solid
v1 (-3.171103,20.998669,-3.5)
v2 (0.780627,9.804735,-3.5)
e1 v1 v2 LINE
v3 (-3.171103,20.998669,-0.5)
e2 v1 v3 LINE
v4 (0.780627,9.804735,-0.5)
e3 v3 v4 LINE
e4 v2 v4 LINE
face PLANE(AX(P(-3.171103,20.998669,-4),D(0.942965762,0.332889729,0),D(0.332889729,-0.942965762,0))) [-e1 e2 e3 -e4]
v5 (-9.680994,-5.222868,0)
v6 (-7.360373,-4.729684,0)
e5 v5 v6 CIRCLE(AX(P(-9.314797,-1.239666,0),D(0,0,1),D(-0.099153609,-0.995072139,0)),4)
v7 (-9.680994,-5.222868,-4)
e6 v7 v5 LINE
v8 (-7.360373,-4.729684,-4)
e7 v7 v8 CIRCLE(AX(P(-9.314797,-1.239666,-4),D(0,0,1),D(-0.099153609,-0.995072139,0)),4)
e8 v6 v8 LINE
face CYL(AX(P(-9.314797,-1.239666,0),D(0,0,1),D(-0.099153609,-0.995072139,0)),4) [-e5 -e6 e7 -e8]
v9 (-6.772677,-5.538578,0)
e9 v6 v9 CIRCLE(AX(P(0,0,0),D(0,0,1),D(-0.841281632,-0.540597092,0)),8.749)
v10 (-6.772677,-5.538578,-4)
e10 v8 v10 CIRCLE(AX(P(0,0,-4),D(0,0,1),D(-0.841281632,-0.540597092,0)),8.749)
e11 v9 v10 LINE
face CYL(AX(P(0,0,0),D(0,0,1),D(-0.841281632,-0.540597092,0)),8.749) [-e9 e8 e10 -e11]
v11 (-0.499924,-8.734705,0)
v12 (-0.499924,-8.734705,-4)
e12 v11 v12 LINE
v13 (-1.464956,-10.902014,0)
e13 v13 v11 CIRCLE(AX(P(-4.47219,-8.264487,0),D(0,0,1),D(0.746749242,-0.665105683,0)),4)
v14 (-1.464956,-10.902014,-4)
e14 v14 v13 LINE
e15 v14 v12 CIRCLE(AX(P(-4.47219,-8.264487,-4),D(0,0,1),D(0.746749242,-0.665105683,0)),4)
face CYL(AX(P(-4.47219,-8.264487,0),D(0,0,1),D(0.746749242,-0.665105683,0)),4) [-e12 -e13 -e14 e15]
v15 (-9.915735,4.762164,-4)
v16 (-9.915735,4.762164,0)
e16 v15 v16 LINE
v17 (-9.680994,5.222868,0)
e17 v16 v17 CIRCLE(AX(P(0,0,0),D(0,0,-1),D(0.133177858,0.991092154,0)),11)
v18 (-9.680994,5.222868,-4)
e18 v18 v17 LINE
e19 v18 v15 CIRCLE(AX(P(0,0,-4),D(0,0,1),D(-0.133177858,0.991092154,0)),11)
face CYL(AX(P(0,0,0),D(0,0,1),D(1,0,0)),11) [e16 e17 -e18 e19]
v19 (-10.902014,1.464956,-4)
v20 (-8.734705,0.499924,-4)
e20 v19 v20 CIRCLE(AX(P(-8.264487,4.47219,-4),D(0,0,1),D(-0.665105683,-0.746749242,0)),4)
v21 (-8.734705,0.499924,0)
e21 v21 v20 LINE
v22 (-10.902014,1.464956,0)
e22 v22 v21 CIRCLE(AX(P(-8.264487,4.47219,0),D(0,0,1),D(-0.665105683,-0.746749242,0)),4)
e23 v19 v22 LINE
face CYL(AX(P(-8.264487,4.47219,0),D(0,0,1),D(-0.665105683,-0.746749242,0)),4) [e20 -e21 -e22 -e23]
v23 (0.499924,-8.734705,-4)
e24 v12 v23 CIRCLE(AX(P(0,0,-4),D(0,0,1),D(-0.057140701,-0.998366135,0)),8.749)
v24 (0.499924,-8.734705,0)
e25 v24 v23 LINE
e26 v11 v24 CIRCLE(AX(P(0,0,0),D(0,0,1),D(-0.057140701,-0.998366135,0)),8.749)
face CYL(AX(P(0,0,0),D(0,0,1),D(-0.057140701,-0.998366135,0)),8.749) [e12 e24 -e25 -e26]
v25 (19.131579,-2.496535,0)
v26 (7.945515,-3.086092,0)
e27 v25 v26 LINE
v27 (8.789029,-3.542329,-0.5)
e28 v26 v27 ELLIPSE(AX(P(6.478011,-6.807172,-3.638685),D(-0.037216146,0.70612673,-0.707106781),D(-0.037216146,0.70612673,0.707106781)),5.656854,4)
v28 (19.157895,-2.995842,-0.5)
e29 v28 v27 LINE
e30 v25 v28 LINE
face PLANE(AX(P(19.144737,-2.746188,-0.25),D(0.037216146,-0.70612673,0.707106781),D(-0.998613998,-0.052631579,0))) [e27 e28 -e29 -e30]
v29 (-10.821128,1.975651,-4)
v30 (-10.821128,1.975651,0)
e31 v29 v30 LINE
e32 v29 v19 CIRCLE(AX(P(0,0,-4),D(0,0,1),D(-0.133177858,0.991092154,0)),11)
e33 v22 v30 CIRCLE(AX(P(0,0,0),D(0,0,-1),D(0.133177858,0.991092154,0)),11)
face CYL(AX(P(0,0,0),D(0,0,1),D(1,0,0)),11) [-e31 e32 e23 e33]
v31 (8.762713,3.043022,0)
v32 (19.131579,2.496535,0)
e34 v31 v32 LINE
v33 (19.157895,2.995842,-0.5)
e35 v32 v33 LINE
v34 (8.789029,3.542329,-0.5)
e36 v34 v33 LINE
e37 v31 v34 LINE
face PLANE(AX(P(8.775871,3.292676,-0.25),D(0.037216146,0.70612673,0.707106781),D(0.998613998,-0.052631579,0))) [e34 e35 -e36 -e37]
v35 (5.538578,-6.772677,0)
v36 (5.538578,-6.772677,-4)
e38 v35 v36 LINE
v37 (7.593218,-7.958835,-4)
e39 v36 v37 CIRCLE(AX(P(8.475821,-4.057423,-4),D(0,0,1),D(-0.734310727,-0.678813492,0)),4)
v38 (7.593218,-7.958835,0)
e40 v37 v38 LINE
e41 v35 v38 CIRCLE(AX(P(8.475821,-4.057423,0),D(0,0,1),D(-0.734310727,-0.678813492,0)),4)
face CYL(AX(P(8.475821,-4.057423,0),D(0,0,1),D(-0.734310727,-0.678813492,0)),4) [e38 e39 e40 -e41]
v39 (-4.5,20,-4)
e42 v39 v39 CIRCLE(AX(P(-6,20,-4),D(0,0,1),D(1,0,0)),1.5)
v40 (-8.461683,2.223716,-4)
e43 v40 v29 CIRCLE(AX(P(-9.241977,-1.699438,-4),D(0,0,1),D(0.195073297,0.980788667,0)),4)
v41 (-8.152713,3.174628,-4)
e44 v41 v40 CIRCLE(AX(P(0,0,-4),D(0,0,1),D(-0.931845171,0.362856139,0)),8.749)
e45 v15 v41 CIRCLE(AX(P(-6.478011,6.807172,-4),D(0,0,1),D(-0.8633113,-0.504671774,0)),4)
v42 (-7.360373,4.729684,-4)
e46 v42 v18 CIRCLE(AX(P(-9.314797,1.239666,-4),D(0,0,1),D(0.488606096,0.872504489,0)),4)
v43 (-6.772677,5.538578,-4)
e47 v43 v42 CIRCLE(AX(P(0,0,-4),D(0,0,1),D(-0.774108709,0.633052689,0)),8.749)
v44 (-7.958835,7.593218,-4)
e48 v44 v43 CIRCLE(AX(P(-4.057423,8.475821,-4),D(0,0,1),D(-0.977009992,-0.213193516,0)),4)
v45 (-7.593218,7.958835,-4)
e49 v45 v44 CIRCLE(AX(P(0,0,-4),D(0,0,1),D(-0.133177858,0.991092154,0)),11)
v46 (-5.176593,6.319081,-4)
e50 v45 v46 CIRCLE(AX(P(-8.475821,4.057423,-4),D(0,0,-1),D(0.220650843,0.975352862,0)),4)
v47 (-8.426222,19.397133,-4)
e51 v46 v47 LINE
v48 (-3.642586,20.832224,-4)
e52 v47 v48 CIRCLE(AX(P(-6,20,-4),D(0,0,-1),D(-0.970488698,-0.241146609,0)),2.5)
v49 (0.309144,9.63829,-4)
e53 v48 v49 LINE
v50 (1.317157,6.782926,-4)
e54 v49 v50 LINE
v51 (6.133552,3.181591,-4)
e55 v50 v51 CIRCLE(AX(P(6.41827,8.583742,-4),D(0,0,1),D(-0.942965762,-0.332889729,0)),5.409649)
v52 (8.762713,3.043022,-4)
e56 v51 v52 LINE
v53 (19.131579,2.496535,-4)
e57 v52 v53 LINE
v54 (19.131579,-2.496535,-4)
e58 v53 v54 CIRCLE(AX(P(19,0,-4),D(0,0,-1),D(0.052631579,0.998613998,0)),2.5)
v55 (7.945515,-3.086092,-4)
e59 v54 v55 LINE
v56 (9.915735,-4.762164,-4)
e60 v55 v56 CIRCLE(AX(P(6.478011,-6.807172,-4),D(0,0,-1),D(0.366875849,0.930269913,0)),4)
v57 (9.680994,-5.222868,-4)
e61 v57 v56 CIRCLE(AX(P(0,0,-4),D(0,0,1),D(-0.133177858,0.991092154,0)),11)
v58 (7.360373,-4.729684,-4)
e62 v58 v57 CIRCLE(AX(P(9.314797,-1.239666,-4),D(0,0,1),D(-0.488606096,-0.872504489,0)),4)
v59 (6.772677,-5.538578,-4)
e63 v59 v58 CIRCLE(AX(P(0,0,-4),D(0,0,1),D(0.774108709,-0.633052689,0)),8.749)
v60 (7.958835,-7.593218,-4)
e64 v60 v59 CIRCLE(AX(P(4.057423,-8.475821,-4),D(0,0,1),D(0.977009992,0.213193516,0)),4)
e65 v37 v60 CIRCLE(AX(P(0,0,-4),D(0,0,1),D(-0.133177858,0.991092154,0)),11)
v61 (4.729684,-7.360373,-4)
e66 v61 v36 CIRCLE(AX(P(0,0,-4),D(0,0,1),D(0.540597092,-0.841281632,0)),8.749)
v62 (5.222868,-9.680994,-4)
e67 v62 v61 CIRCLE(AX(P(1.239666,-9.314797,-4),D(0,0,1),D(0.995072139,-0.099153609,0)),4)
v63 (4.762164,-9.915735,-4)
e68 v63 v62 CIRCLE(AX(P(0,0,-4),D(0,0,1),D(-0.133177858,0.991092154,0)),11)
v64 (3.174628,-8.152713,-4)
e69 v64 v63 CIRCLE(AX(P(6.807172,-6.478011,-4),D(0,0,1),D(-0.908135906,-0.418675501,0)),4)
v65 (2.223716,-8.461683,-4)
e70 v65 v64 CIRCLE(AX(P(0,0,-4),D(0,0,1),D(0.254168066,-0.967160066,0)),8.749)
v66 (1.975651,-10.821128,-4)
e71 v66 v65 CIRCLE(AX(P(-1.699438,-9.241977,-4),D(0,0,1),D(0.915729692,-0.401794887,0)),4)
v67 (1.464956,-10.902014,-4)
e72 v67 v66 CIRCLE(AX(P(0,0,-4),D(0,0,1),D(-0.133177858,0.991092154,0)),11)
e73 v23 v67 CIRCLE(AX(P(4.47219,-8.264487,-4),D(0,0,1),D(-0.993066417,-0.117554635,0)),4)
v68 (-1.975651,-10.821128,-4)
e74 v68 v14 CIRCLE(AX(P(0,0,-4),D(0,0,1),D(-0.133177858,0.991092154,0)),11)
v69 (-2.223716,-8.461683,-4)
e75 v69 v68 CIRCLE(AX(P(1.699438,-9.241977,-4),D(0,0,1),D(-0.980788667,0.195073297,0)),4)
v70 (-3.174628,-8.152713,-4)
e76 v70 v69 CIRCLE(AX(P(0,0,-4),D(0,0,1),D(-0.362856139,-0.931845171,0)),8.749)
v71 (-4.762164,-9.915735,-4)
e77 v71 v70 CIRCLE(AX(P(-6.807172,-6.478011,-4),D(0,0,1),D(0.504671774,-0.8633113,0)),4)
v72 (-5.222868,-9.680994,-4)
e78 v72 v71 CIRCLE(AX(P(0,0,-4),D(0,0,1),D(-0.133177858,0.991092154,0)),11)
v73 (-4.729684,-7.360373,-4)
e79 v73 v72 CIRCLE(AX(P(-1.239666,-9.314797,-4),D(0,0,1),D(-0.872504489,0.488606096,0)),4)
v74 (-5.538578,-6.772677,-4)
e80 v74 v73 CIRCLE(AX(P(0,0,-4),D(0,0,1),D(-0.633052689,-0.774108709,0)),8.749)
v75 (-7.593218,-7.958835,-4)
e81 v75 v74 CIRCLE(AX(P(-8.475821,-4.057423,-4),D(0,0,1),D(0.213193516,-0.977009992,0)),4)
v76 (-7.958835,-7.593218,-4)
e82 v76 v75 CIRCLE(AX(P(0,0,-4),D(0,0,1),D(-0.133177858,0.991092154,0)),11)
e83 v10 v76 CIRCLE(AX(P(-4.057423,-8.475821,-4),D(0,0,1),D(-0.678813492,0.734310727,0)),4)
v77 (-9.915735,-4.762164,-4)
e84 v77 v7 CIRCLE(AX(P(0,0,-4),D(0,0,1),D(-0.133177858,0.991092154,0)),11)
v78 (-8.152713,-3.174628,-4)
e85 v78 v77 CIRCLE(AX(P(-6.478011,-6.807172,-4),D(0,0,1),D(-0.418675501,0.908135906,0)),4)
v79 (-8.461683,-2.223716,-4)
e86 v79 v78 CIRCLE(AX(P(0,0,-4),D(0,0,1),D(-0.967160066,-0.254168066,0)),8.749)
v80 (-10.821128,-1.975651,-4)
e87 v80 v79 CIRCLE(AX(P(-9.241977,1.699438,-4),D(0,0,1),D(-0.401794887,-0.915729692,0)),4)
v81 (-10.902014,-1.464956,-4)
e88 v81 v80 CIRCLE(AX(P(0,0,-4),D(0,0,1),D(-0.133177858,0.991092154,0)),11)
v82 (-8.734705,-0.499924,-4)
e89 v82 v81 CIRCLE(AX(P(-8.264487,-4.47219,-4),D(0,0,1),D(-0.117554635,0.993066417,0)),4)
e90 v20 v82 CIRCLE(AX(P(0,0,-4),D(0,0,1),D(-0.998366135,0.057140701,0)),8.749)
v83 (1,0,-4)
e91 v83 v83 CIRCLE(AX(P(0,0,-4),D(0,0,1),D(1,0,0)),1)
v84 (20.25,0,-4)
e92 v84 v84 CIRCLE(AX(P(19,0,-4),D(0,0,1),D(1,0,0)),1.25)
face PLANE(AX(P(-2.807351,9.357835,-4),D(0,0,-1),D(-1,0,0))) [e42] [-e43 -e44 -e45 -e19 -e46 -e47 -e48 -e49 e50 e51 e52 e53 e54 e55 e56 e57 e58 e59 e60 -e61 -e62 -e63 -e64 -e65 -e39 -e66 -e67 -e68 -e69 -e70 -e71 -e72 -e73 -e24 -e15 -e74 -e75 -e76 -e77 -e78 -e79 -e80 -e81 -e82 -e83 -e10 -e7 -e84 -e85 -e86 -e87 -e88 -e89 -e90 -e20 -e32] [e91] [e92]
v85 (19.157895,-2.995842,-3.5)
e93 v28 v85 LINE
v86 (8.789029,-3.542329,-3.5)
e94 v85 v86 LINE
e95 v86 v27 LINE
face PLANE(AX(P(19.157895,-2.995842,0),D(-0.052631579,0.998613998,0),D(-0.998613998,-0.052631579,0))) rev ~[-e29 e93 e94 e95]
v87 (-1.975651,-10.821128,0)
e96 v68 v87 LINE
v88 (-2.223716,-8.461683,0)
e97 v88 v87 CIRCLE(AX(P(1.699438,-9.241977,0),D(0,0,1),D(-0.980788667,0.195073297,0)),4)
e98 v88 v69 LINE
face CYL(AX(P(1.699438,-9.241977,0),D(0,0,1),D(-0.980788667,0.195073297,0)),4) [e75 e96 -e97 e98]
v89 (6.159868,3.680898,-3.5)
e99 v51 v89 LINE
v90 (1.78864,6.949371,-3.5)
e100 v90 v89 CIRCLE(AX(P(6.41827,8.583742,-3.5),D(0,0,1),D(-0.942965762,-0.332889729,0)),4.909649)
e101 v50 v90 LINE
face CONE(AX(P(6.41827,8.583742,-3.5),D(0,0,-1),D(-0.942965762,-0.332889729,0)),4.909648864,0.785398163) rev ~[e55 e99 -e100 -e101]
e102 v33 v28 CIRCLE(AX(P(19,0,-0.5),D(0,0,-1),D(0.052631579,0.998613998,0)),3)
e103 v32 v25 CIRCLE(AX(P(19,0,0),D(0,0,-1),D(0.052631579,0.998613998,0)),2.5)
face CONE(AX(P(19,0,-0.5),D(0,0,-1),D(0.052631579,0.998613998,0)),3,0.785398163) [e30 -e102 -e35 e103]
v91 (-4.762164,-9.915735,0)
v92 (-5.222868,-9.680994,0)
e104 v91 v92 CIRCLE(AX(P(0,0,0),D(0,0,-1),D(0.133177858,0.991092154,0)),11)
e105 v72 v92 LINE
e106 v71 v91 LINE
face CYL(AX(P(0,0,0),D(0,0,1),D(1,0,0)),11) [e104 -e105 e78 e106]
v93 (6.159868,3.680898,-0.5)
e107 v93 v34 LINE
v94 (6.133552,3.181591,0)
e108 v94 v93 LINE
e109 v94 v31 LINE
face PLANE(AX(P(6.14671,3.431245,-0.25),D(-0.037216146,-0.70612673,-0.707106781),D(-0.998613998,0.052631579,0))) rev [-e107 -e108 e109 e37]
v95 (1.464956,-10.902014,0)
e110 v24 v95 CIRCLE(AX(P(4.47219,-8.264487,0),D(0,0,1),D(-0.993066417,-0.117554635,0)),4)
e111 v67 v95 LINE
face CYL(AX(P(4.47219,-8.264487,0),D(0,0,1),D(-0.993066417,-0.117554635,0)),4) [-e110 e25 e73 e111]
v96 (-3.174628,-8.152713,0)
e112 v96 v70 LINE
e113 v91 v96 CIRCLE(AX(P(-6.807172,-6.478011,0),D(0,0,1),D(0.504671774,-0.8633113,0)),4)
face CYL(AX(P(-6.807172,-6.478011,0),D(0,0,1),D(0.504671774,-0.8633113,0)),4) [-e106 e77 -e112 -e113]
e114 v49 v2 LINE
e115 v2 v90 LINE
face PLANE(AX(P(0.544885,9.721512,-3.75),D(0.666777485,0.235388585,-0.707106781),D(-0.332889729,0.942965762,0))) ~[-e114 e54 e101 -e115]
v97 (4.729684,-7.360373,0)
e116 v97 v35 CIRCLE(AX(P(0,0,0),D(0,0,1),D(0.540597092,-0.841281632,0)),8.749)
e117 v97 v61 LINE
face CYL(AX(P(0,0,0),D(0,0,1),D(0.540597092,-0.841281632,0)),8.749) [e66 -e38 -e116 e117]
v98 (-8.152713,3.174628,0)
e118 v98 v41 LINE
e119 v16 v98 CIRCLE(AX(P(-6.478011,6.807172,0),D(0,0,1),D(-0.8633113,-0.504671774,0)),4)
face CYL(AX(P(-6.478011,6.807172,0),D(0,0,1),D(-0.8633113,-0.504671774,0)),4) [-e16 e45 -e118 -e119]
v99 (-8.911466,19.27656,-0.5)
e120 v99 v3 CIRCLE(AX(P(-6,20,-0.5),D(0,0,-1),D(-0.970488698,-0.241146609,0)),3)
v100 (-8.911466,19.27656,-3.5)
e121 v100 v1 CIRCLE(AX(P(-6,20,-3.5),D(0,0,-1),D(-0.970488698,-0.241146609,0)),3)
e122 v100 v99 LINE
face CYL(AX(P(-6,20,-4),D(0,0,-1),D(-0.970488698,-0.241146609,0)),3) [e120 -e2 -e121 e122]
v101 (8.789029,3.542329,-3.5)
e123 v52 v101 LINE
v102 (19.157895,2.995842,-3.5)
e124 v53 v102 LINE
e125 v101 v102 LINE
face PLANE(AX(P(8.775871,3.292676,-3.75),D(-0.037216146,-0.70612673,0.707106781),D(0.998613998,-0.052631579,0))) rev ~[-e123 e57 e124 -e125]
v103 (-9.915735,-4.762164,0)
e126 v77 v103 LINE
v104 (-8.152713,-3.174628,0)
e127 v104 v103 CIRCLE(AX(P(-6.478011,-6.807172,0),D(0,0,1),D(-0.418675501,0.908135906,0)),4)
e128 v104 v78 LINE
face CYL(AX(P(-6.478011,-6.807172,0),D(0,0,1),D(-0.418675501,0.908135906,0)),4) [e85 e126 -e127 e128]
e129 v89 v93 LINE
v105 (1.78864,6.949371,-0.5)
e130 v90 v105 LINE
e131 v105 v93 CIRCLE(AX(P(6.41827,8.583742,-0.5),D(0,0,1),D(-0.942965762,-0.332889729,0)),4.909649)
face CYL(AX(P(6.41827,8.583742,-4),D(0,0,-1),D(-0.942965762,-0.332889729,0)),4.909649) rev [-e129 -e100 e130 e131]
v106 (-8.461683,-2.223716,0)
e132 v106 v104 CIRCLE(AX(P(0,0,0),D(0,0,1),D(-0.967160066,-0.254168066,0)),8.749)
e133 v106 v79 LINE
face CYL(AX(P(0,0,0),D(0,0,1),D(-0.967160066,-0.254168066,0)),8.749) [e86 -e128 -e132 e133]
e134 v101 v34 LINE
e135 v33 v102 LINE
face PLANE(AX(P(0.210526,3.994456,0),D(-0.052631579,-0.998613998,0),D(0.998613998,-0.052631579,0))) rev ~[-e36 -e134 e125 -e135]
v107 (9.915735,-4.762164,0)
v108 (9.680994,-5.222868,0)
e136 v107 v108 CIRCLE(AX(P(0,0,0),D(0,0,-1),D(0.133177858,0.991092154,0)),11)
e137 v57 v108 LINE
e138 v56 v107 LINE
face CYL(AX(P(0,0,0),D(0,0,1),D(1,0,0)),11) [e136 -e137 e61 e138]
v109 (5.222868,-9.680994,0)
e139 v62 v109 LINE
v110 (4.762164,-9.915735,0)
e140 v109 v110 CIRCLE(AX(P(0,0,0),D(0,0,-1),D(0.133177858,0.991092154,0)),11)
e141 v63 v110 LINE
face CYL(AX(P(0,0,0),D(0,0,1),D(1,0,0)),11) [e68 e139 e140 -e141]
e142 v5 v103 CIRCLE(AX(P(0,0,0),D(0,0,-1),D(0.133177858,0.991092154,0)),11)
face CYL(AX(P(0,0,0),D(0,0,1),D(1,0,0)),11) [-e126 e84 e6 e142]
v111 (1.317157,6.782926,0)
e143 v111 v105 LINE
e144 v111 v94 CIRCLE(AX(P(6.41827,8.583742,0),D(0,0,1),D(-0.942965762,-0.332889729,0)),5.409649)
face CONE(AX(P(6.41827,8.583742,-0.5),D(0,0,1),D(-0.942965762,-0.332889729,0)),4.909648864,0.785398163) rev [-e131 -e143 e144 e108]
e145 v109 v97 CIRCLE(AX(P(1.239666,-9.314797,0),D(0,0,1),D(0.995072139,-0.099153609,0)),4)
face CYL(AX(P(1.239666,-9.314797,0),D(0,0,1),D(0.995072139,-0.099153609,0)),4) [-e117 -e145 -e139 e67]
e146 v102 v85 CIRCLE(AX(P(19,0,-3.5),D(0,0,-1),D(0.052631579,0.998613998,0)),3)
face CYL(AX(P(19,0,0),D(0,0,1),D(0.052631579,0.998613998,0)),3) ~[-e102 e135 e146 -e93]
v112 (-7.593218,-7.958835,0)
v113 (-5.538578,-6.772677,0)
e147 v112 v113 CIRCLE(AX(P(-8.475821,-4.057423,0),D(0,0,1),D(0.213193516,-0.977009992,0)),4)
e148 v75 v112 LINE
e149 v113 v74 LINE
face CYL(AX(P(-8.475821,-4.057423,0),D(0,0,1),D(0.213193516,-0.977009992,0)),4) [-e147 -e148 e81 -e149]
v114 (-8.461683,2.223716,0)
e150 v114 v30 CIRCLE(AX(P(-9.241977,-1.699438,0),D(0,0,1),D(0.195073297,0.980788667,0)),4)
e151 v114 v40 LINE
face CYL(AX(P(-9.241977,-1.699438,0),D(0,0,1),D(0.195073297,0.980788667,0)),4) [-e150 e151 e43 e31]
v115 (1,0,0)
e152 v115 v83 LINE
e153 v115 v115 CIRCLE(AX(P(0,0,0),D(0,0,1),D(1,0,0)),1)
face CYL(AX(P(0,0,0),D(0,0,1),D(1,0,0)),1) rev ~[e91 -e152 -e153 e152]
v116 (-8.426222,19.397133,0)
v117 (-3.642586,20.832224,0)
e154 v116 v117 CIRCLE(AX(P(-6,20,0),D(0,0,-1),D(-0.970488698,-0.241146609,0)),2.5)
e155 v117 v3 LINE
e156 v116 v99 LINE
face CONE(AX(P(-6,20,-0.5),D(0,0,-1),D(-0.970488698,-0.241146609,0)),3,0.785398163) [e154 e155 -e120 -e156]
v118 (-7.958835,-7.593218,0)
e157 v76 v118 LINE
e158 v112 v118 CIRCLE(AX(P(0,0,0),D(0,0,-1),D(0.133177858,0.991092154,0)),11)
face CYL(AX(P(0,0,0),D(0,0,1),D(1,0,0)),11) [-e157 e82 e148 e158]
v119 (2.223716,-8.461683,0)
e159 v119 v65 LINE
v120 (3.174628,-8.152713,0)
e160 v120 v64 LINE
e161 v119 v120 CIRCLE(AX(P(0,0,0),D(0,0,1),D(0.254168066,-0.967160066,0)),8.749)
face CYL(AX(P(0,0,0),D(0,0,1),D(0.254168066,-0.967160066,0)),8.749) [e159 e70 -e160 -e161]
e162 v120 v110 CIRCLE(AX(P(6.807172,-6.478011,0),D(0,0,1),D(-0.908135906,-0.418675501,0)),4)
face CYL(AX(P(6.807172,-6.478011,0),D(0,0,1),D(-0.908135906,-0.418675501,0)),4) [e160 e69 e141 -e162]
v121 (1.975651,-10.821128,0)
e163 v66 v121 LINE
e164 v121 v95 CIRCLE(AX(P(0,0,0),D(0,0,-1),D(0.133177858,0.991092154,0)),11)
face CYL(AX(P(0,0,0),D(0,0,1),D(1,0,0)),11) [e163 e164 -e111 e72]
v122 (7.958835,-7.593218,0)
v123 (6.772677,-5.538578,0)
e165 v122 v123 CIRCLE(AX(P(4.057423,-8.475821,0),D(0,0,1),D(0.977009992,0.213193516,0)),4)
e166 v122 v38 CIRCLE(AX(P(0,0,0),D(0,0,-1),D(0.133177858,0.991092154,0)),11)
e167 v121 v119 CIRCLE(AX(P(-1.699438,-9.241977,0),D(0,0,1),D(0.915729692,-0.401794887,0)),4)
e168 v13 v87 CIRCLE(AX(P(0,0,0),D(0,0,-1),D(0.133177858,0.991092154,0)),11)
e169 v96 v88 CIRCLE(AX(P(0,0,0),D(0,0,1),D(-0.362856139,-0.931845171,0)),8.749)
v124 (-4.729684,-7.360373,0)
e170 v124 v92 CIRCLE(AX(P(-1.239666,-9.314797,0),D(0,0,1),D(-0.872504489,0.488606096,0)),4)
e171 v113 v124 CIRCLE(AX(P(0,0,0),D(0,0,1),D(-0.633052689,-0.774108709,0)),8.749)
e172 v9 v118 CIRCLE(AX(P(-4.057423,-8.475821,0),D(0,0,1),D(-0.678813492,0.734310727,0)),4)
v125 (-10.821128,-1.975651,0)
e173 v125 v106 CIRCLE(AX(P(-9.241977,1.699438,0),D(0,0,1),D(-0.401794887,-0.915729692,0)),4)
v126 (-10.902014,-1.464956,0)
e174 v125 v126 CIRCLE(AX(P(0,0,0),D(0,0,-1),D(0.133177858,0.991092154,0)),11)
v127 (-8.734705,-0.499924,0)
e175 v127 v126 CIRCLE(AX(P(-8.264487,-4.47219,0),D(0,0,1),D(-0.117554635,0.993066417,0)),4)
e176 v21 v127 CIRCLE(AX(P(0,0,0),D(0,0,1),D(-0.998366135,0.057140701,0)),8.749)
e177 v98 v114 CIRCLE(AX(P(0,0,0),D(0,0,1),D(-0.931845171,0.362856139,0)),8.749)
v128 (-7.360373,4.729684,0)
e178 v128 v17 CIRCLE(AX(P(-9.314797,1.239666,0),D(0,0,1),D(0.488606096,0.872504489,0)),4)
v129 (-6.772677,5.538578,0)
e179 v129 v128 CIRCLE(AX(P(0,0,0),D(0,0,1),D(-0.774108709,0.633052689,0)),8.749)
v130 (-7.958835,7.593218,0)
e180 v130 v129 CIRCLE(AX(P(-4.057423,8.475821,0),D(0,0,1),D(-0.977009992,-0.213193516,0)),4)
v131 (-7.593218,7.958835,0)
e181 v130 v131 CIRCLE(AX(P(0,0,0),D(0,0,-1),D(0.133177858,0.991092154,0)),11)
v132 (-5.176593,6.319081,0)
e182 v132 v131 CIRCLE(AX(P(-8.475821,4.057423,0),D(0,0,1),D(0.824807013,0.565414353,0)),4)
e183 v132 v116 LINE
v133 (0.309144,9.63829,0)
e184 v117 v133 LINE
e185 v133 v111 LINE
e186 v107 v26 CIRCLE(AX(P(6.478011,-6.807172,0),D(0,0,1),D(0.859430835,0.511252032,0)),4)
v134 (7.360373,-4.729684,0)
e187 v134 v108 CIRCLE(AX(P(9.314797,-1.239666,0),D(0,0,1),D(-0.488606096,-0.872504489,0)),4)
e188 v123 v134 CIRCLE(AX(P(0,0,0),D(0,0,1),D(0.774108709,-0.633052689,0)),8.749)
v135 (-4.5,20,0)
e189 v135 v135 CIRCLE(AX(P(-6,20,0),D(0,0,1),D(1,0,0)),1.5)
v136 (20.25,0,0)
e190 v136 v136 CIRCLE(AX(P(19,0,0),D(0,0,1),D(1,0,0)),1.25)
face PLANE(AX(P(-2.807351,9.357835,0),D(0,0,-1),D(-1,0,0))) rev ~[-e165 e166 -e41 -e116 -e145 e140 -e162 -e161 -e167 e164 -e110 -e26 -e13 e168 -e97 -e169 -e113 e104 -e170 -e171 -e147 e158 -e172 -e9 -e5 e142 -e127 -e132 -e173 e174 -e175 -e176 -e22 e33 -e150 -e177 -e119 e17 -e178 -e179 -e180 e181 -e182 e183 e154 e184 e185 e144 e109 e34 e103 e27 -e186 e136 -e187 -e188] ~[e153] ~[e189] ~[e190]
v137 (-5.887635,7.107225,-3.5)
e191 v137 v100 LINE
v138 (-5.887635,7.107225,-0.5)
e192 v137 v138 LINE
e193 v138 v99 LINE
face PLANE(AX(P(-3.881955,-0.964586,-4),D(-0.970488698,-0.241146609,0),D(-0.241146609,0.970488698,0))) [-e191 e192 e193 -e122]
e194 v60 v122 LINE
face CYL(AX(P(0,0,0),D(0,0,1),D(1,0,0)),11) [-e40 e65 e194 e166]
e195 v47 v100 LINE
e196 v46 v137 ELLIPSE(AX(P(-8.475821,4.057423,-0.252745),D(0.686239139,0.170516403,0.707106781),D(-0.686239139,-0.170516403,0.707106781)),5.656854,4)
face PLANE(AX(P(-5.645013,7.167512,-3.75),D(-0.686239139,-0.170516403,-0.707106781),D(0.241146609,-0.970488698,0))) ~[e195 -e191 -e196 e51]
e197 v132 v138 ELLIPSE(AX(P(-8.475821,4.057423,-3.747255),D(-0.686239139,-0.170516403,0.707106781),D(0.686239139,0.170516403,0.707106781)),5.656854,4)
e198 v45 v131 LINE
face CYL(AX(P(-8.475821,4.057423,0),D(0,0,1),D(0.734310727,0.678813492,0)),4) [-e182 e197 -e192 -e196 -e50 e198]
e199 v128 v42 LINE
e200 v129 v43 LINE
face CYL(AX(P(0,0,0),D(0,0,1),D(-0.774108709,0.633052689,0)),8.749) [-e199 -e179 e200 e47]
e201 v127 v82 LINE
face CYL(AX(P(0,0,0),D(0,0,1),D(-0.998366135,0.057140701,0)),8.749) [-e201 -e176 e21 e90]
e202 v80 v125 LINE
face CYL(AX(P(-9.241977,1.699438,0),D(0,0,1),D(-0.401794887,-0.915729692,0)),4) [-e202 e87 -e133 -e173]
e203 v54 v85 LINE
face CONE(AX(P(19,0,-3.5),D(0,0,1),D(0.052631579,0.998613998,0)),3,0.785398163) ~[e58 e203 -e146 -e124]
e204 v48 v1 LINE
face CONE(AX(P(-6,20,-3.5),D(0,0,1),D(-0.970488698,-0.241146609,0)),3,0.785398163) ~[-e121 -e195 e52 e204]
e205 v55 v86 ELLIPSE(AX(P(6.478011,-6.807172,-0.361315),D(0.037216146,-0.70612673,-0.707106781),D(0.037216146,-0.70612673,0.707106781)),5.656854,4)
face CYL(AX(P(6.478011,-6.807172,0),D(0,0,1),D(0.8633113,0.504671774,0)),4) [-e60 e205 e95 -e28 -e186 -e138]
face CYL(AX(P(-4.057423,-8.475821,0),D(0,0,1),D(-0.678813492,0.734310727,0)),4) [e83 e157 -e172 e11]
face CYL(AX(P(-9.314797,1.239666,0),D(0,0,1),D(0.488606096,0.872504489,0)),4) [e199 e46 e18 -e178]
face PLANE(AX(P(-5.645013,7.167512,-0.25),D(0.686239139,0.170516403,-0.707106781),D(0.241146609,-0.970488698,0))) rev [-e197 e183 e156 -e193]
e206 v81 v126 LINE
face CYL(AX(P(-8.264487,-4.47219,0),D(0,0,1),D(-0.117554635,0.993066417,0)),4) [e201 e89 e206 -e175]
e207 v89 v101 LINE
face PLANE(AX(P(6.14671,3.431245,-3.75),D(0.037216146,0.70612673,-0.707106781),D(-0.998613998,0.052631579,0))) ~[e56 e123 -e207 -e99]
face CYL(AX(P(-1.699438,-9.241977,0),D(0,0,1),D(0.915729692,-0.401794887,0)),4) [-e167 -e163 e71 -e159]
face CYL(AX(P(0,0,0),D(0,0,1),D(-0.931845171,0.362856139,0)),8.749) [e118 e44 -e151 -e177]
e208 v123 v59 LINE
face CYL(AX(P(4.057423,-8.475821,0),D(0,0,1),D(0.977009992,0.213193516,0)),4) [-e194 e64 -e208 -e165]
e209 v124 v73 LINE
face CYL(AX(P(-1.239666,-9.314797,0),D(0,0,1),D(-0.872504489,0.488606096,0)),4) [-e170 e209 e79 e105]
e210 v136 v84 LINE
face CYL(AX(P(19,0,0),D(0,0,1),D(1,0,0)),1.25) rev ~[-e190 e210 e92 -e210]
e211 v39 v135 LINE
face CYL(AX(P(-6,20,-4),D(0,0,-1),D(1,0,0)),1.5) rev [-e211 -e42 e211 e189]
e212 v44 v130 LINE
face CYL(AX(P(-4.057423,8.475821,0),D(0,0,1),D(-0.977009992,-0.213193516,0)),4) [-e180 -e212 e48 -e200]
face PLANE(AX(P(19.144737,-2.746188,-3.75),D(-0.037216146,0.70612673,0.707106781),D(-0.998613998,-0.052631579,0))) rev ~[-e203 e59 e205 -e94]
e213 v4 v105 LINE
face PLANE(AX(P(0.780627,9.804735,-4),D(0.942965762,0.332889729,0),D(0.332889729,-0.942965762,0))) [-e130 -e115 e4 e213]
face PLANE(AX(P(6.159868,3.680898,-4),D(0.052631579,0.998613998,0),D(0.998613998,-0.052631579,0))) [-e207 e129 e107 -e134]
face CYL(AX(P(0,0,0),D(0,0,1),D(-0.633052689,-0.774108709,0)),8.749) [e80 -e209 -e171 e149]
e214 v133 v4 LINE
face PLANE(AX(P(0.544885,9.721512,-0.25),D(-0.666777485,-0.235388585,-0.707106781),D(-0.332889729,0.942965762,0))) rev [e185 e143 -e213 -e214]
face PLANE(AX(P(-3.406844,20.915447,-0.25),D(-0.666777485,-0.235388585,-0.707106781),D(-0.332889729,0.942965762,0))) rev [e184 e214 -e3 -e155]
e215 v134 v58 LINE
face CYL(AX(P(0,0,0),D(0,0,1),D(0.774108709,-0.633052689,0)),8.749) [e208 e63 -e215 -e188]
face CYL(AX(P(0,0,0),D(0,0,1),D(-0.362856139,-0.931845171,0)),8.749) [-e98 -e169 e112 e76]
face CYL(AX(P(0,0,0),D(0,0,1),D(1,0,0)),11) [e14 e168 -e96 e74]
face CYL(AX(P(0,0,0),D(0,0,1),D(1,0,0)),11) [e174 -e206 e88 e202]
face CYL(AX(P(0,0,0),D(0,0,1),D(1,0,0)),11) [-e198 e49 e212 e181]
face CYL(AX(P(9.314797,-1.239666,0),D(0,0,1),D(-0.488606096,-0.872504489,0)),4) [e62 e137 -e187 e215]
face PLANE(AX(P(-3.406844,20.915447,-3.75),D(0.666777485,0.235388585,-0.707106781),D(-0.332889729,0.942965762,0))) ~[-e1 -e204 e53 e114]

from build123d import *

# Parameters (mm, degrees)
CROQUIS7_R              = 11
CROQUIS7_R_2            = 1
SALIENTE_EXTRUIR4_DEPTH = 4
CORTAR_EXTRUIR3_DEPTH   = 17.062378404
MATRIZC3_COUNT          = 20
CROQUIS9_R              = 1
CROQUIS9_R_2            = 1.25
SALIENTE_EXTRUIR5_DEPTH = 4
CROQUIS2_R              = 1
CROQUIS2_R_2            = 1.5
SALIENTE_EXTRUIR2_DEPTH = 4
CORTAR_EXTRUIR4_DEPTH   = 33.078029865
CHAFL_N1_SIZE           = 0.5


with BuildPart() as part:
    # Croquis7 → Saliente-Extruir4 (new body)
    with BuildSketch(Plane.XY):
        Circle(CROQUIS7_R)
        Circle(CROQUIS7_R_2, mode=Mode.SUBTRACT)
    extrude(amount=-SALIENTE_EXTRUIR4_DEPTH)

    # Croquis10 → Cortar-Extruir3 (cut, through all)
    with BuildSketch(Plane.XY):
        with BuildLine():
            ThreePointArc((0.499924007, 8.734705318), (0, 8.749), (-0.499924007, 8.734705318))
            ThreePointArc((-0.499924007, 8.734705318), (-0.824302243, 9.905497836), (-1.485192705, 10.924909509))
            ThreePointArc((-1.485192705, 10.924909509), (0, 11.0254), (1.485192705, 10.924909509))
            ThreePointArc((1.485192705, 10.924909509), (0.824302243, 9.905497836), (0.499924007, 8.734705318))
        make_face()
    cortar_extruir3 = extrude(amount=-CORTAR_EXTRUIR3_DEPTH, mode=Mode.SUBTRACT)

    # MatrizC3: Cortar-Extruir3 ×20 about axis
    matrizc3_axis = Axis((0, 0, 0), (0, 0, 1))
    for i in range(1, MATRIZC3_COUNT):
        add(cortar_extruir3.rotate(matrizc3_axis, i * 360 / MATRIZC3_COUNT), mode=Mode.SUBTRACT)

    # Croquis9 → Saliente-Extruir5 (add)
    with BuildSketch(Plane.XY):
        with BuildLine():
            Line((0.210526316, 3.994455992), (19.157894737, 2.995841994))
            ThreePointArc((19.157894737, 2.995841994), (22, 0), (19.157894737, -2.995841994))
            Line((19.157894737, -2.995841994), (0.210526316, -3.994455992))
            ThreePointArc((0.210526316, -3.994455992), (-4, 0), (0.210526316, 3.994455992))
        make_face()
        Circle(CROQUIS9_R, mode=Mode.SUBTRACT)
        with Locations((19, 0)):
            Circle(CROQUIS9_R_2, mode=Mode.SUBTRACT)
    extrude(amount=-SALIENTE_EXTRUIR5_DEPTH)

    # Croquis2 → Saliente-Extruir2 (add, through all)
    with BuildSketch(Plane.XY.offset(-4)):
        with BuildLine():
            Line((-3.171102714, 20.998669186), (3.771863049, 1.331558915))
            ThreePointArc((3.771863049, 1.331558915), (1.149391542, -3.831305141), (-3.881954792, -0.964586438))
            Line((-3.881954792, -0.964586438), (-8.911466094, 19.276560172))
            ThreePointArc((-8.911466094, 19.276560172), (-6.862043657, 22.873478856), (-3.171102714, 20.998669186))
        make_face()
        Circle(CROQUIS2_R, mode=Mode.SUBTRACT)
        with Locations((-6, 20)):
            Circle(CROQUIS2_R_2, mode=Mode.SUBTRACT)
    extrude(amount=SALIENTE_EXTRUIR2_DEPTH)

    # Croquis11 → Cortar-Extruir4 (cut, through all)
    with BuildSketch(Plane(origin=(0, 0, -4), x_dir=(-1, 0, 0), z_dir=(0, 0, -1))):
        with BuildLine():
            Line((-0.780626911, 9.804734929), (-1.788639616, 6.949370564))
            ThreePointArc((-1.788639616, 6.949370564), (-3.478211644, 4.651731754), (-6.159867825, 3.680898163))
            Line((-6.159867825, 3.680898163), (-8.789028829, 3.542329211))
            Line((-8.789028829, 3.542329211), (-14.154797023, 5.193302426))
            Line((-14.154797023, 5.193302426), (-17.039697184, 17.319662426))
            Line((-17.039697184, 17.319662426), (-0.365952184, 17.319662426))
            Line((-0.365952184, 17.319662426), (-0.780626911, 9.804734929))
        make_face()
    extrude(amount=-CORTAR_EXTRUIR4_DEPTH, mode=Mode.SUBTRACT)

    # Chaflán1
    chafl_n1_edges = [part.edges().sort_by_distance(p)[0] for p in [
        (13.973461783, -3.269085602, -4),
        (12.658881281, 3.338370078, -4),
        (22, 0, -4),
        (13.973461783, -3.269085602, 0),
        (22, 0, 0),
        (12.658881281, 3.338370078, 0),
        (-0.691231549, 13.974019875, -4),
        (-7.399550596, 13.191892812, -4),
        (-0.691231549, 13.974019875, 0),
        (-6.862043657, 22.873478856, 0),
        (-7.399550596, 13.191892812, 0),
        (-6.862043657, 22.873478856, -4),
        (3.478211644, 4.651731754, -4),
        (3.478211644, 4.651731754, 0),
    ]]
    chamfer(chafl_n1_edges, length=CHAFL_N1_SIZE)


solid = part.part
